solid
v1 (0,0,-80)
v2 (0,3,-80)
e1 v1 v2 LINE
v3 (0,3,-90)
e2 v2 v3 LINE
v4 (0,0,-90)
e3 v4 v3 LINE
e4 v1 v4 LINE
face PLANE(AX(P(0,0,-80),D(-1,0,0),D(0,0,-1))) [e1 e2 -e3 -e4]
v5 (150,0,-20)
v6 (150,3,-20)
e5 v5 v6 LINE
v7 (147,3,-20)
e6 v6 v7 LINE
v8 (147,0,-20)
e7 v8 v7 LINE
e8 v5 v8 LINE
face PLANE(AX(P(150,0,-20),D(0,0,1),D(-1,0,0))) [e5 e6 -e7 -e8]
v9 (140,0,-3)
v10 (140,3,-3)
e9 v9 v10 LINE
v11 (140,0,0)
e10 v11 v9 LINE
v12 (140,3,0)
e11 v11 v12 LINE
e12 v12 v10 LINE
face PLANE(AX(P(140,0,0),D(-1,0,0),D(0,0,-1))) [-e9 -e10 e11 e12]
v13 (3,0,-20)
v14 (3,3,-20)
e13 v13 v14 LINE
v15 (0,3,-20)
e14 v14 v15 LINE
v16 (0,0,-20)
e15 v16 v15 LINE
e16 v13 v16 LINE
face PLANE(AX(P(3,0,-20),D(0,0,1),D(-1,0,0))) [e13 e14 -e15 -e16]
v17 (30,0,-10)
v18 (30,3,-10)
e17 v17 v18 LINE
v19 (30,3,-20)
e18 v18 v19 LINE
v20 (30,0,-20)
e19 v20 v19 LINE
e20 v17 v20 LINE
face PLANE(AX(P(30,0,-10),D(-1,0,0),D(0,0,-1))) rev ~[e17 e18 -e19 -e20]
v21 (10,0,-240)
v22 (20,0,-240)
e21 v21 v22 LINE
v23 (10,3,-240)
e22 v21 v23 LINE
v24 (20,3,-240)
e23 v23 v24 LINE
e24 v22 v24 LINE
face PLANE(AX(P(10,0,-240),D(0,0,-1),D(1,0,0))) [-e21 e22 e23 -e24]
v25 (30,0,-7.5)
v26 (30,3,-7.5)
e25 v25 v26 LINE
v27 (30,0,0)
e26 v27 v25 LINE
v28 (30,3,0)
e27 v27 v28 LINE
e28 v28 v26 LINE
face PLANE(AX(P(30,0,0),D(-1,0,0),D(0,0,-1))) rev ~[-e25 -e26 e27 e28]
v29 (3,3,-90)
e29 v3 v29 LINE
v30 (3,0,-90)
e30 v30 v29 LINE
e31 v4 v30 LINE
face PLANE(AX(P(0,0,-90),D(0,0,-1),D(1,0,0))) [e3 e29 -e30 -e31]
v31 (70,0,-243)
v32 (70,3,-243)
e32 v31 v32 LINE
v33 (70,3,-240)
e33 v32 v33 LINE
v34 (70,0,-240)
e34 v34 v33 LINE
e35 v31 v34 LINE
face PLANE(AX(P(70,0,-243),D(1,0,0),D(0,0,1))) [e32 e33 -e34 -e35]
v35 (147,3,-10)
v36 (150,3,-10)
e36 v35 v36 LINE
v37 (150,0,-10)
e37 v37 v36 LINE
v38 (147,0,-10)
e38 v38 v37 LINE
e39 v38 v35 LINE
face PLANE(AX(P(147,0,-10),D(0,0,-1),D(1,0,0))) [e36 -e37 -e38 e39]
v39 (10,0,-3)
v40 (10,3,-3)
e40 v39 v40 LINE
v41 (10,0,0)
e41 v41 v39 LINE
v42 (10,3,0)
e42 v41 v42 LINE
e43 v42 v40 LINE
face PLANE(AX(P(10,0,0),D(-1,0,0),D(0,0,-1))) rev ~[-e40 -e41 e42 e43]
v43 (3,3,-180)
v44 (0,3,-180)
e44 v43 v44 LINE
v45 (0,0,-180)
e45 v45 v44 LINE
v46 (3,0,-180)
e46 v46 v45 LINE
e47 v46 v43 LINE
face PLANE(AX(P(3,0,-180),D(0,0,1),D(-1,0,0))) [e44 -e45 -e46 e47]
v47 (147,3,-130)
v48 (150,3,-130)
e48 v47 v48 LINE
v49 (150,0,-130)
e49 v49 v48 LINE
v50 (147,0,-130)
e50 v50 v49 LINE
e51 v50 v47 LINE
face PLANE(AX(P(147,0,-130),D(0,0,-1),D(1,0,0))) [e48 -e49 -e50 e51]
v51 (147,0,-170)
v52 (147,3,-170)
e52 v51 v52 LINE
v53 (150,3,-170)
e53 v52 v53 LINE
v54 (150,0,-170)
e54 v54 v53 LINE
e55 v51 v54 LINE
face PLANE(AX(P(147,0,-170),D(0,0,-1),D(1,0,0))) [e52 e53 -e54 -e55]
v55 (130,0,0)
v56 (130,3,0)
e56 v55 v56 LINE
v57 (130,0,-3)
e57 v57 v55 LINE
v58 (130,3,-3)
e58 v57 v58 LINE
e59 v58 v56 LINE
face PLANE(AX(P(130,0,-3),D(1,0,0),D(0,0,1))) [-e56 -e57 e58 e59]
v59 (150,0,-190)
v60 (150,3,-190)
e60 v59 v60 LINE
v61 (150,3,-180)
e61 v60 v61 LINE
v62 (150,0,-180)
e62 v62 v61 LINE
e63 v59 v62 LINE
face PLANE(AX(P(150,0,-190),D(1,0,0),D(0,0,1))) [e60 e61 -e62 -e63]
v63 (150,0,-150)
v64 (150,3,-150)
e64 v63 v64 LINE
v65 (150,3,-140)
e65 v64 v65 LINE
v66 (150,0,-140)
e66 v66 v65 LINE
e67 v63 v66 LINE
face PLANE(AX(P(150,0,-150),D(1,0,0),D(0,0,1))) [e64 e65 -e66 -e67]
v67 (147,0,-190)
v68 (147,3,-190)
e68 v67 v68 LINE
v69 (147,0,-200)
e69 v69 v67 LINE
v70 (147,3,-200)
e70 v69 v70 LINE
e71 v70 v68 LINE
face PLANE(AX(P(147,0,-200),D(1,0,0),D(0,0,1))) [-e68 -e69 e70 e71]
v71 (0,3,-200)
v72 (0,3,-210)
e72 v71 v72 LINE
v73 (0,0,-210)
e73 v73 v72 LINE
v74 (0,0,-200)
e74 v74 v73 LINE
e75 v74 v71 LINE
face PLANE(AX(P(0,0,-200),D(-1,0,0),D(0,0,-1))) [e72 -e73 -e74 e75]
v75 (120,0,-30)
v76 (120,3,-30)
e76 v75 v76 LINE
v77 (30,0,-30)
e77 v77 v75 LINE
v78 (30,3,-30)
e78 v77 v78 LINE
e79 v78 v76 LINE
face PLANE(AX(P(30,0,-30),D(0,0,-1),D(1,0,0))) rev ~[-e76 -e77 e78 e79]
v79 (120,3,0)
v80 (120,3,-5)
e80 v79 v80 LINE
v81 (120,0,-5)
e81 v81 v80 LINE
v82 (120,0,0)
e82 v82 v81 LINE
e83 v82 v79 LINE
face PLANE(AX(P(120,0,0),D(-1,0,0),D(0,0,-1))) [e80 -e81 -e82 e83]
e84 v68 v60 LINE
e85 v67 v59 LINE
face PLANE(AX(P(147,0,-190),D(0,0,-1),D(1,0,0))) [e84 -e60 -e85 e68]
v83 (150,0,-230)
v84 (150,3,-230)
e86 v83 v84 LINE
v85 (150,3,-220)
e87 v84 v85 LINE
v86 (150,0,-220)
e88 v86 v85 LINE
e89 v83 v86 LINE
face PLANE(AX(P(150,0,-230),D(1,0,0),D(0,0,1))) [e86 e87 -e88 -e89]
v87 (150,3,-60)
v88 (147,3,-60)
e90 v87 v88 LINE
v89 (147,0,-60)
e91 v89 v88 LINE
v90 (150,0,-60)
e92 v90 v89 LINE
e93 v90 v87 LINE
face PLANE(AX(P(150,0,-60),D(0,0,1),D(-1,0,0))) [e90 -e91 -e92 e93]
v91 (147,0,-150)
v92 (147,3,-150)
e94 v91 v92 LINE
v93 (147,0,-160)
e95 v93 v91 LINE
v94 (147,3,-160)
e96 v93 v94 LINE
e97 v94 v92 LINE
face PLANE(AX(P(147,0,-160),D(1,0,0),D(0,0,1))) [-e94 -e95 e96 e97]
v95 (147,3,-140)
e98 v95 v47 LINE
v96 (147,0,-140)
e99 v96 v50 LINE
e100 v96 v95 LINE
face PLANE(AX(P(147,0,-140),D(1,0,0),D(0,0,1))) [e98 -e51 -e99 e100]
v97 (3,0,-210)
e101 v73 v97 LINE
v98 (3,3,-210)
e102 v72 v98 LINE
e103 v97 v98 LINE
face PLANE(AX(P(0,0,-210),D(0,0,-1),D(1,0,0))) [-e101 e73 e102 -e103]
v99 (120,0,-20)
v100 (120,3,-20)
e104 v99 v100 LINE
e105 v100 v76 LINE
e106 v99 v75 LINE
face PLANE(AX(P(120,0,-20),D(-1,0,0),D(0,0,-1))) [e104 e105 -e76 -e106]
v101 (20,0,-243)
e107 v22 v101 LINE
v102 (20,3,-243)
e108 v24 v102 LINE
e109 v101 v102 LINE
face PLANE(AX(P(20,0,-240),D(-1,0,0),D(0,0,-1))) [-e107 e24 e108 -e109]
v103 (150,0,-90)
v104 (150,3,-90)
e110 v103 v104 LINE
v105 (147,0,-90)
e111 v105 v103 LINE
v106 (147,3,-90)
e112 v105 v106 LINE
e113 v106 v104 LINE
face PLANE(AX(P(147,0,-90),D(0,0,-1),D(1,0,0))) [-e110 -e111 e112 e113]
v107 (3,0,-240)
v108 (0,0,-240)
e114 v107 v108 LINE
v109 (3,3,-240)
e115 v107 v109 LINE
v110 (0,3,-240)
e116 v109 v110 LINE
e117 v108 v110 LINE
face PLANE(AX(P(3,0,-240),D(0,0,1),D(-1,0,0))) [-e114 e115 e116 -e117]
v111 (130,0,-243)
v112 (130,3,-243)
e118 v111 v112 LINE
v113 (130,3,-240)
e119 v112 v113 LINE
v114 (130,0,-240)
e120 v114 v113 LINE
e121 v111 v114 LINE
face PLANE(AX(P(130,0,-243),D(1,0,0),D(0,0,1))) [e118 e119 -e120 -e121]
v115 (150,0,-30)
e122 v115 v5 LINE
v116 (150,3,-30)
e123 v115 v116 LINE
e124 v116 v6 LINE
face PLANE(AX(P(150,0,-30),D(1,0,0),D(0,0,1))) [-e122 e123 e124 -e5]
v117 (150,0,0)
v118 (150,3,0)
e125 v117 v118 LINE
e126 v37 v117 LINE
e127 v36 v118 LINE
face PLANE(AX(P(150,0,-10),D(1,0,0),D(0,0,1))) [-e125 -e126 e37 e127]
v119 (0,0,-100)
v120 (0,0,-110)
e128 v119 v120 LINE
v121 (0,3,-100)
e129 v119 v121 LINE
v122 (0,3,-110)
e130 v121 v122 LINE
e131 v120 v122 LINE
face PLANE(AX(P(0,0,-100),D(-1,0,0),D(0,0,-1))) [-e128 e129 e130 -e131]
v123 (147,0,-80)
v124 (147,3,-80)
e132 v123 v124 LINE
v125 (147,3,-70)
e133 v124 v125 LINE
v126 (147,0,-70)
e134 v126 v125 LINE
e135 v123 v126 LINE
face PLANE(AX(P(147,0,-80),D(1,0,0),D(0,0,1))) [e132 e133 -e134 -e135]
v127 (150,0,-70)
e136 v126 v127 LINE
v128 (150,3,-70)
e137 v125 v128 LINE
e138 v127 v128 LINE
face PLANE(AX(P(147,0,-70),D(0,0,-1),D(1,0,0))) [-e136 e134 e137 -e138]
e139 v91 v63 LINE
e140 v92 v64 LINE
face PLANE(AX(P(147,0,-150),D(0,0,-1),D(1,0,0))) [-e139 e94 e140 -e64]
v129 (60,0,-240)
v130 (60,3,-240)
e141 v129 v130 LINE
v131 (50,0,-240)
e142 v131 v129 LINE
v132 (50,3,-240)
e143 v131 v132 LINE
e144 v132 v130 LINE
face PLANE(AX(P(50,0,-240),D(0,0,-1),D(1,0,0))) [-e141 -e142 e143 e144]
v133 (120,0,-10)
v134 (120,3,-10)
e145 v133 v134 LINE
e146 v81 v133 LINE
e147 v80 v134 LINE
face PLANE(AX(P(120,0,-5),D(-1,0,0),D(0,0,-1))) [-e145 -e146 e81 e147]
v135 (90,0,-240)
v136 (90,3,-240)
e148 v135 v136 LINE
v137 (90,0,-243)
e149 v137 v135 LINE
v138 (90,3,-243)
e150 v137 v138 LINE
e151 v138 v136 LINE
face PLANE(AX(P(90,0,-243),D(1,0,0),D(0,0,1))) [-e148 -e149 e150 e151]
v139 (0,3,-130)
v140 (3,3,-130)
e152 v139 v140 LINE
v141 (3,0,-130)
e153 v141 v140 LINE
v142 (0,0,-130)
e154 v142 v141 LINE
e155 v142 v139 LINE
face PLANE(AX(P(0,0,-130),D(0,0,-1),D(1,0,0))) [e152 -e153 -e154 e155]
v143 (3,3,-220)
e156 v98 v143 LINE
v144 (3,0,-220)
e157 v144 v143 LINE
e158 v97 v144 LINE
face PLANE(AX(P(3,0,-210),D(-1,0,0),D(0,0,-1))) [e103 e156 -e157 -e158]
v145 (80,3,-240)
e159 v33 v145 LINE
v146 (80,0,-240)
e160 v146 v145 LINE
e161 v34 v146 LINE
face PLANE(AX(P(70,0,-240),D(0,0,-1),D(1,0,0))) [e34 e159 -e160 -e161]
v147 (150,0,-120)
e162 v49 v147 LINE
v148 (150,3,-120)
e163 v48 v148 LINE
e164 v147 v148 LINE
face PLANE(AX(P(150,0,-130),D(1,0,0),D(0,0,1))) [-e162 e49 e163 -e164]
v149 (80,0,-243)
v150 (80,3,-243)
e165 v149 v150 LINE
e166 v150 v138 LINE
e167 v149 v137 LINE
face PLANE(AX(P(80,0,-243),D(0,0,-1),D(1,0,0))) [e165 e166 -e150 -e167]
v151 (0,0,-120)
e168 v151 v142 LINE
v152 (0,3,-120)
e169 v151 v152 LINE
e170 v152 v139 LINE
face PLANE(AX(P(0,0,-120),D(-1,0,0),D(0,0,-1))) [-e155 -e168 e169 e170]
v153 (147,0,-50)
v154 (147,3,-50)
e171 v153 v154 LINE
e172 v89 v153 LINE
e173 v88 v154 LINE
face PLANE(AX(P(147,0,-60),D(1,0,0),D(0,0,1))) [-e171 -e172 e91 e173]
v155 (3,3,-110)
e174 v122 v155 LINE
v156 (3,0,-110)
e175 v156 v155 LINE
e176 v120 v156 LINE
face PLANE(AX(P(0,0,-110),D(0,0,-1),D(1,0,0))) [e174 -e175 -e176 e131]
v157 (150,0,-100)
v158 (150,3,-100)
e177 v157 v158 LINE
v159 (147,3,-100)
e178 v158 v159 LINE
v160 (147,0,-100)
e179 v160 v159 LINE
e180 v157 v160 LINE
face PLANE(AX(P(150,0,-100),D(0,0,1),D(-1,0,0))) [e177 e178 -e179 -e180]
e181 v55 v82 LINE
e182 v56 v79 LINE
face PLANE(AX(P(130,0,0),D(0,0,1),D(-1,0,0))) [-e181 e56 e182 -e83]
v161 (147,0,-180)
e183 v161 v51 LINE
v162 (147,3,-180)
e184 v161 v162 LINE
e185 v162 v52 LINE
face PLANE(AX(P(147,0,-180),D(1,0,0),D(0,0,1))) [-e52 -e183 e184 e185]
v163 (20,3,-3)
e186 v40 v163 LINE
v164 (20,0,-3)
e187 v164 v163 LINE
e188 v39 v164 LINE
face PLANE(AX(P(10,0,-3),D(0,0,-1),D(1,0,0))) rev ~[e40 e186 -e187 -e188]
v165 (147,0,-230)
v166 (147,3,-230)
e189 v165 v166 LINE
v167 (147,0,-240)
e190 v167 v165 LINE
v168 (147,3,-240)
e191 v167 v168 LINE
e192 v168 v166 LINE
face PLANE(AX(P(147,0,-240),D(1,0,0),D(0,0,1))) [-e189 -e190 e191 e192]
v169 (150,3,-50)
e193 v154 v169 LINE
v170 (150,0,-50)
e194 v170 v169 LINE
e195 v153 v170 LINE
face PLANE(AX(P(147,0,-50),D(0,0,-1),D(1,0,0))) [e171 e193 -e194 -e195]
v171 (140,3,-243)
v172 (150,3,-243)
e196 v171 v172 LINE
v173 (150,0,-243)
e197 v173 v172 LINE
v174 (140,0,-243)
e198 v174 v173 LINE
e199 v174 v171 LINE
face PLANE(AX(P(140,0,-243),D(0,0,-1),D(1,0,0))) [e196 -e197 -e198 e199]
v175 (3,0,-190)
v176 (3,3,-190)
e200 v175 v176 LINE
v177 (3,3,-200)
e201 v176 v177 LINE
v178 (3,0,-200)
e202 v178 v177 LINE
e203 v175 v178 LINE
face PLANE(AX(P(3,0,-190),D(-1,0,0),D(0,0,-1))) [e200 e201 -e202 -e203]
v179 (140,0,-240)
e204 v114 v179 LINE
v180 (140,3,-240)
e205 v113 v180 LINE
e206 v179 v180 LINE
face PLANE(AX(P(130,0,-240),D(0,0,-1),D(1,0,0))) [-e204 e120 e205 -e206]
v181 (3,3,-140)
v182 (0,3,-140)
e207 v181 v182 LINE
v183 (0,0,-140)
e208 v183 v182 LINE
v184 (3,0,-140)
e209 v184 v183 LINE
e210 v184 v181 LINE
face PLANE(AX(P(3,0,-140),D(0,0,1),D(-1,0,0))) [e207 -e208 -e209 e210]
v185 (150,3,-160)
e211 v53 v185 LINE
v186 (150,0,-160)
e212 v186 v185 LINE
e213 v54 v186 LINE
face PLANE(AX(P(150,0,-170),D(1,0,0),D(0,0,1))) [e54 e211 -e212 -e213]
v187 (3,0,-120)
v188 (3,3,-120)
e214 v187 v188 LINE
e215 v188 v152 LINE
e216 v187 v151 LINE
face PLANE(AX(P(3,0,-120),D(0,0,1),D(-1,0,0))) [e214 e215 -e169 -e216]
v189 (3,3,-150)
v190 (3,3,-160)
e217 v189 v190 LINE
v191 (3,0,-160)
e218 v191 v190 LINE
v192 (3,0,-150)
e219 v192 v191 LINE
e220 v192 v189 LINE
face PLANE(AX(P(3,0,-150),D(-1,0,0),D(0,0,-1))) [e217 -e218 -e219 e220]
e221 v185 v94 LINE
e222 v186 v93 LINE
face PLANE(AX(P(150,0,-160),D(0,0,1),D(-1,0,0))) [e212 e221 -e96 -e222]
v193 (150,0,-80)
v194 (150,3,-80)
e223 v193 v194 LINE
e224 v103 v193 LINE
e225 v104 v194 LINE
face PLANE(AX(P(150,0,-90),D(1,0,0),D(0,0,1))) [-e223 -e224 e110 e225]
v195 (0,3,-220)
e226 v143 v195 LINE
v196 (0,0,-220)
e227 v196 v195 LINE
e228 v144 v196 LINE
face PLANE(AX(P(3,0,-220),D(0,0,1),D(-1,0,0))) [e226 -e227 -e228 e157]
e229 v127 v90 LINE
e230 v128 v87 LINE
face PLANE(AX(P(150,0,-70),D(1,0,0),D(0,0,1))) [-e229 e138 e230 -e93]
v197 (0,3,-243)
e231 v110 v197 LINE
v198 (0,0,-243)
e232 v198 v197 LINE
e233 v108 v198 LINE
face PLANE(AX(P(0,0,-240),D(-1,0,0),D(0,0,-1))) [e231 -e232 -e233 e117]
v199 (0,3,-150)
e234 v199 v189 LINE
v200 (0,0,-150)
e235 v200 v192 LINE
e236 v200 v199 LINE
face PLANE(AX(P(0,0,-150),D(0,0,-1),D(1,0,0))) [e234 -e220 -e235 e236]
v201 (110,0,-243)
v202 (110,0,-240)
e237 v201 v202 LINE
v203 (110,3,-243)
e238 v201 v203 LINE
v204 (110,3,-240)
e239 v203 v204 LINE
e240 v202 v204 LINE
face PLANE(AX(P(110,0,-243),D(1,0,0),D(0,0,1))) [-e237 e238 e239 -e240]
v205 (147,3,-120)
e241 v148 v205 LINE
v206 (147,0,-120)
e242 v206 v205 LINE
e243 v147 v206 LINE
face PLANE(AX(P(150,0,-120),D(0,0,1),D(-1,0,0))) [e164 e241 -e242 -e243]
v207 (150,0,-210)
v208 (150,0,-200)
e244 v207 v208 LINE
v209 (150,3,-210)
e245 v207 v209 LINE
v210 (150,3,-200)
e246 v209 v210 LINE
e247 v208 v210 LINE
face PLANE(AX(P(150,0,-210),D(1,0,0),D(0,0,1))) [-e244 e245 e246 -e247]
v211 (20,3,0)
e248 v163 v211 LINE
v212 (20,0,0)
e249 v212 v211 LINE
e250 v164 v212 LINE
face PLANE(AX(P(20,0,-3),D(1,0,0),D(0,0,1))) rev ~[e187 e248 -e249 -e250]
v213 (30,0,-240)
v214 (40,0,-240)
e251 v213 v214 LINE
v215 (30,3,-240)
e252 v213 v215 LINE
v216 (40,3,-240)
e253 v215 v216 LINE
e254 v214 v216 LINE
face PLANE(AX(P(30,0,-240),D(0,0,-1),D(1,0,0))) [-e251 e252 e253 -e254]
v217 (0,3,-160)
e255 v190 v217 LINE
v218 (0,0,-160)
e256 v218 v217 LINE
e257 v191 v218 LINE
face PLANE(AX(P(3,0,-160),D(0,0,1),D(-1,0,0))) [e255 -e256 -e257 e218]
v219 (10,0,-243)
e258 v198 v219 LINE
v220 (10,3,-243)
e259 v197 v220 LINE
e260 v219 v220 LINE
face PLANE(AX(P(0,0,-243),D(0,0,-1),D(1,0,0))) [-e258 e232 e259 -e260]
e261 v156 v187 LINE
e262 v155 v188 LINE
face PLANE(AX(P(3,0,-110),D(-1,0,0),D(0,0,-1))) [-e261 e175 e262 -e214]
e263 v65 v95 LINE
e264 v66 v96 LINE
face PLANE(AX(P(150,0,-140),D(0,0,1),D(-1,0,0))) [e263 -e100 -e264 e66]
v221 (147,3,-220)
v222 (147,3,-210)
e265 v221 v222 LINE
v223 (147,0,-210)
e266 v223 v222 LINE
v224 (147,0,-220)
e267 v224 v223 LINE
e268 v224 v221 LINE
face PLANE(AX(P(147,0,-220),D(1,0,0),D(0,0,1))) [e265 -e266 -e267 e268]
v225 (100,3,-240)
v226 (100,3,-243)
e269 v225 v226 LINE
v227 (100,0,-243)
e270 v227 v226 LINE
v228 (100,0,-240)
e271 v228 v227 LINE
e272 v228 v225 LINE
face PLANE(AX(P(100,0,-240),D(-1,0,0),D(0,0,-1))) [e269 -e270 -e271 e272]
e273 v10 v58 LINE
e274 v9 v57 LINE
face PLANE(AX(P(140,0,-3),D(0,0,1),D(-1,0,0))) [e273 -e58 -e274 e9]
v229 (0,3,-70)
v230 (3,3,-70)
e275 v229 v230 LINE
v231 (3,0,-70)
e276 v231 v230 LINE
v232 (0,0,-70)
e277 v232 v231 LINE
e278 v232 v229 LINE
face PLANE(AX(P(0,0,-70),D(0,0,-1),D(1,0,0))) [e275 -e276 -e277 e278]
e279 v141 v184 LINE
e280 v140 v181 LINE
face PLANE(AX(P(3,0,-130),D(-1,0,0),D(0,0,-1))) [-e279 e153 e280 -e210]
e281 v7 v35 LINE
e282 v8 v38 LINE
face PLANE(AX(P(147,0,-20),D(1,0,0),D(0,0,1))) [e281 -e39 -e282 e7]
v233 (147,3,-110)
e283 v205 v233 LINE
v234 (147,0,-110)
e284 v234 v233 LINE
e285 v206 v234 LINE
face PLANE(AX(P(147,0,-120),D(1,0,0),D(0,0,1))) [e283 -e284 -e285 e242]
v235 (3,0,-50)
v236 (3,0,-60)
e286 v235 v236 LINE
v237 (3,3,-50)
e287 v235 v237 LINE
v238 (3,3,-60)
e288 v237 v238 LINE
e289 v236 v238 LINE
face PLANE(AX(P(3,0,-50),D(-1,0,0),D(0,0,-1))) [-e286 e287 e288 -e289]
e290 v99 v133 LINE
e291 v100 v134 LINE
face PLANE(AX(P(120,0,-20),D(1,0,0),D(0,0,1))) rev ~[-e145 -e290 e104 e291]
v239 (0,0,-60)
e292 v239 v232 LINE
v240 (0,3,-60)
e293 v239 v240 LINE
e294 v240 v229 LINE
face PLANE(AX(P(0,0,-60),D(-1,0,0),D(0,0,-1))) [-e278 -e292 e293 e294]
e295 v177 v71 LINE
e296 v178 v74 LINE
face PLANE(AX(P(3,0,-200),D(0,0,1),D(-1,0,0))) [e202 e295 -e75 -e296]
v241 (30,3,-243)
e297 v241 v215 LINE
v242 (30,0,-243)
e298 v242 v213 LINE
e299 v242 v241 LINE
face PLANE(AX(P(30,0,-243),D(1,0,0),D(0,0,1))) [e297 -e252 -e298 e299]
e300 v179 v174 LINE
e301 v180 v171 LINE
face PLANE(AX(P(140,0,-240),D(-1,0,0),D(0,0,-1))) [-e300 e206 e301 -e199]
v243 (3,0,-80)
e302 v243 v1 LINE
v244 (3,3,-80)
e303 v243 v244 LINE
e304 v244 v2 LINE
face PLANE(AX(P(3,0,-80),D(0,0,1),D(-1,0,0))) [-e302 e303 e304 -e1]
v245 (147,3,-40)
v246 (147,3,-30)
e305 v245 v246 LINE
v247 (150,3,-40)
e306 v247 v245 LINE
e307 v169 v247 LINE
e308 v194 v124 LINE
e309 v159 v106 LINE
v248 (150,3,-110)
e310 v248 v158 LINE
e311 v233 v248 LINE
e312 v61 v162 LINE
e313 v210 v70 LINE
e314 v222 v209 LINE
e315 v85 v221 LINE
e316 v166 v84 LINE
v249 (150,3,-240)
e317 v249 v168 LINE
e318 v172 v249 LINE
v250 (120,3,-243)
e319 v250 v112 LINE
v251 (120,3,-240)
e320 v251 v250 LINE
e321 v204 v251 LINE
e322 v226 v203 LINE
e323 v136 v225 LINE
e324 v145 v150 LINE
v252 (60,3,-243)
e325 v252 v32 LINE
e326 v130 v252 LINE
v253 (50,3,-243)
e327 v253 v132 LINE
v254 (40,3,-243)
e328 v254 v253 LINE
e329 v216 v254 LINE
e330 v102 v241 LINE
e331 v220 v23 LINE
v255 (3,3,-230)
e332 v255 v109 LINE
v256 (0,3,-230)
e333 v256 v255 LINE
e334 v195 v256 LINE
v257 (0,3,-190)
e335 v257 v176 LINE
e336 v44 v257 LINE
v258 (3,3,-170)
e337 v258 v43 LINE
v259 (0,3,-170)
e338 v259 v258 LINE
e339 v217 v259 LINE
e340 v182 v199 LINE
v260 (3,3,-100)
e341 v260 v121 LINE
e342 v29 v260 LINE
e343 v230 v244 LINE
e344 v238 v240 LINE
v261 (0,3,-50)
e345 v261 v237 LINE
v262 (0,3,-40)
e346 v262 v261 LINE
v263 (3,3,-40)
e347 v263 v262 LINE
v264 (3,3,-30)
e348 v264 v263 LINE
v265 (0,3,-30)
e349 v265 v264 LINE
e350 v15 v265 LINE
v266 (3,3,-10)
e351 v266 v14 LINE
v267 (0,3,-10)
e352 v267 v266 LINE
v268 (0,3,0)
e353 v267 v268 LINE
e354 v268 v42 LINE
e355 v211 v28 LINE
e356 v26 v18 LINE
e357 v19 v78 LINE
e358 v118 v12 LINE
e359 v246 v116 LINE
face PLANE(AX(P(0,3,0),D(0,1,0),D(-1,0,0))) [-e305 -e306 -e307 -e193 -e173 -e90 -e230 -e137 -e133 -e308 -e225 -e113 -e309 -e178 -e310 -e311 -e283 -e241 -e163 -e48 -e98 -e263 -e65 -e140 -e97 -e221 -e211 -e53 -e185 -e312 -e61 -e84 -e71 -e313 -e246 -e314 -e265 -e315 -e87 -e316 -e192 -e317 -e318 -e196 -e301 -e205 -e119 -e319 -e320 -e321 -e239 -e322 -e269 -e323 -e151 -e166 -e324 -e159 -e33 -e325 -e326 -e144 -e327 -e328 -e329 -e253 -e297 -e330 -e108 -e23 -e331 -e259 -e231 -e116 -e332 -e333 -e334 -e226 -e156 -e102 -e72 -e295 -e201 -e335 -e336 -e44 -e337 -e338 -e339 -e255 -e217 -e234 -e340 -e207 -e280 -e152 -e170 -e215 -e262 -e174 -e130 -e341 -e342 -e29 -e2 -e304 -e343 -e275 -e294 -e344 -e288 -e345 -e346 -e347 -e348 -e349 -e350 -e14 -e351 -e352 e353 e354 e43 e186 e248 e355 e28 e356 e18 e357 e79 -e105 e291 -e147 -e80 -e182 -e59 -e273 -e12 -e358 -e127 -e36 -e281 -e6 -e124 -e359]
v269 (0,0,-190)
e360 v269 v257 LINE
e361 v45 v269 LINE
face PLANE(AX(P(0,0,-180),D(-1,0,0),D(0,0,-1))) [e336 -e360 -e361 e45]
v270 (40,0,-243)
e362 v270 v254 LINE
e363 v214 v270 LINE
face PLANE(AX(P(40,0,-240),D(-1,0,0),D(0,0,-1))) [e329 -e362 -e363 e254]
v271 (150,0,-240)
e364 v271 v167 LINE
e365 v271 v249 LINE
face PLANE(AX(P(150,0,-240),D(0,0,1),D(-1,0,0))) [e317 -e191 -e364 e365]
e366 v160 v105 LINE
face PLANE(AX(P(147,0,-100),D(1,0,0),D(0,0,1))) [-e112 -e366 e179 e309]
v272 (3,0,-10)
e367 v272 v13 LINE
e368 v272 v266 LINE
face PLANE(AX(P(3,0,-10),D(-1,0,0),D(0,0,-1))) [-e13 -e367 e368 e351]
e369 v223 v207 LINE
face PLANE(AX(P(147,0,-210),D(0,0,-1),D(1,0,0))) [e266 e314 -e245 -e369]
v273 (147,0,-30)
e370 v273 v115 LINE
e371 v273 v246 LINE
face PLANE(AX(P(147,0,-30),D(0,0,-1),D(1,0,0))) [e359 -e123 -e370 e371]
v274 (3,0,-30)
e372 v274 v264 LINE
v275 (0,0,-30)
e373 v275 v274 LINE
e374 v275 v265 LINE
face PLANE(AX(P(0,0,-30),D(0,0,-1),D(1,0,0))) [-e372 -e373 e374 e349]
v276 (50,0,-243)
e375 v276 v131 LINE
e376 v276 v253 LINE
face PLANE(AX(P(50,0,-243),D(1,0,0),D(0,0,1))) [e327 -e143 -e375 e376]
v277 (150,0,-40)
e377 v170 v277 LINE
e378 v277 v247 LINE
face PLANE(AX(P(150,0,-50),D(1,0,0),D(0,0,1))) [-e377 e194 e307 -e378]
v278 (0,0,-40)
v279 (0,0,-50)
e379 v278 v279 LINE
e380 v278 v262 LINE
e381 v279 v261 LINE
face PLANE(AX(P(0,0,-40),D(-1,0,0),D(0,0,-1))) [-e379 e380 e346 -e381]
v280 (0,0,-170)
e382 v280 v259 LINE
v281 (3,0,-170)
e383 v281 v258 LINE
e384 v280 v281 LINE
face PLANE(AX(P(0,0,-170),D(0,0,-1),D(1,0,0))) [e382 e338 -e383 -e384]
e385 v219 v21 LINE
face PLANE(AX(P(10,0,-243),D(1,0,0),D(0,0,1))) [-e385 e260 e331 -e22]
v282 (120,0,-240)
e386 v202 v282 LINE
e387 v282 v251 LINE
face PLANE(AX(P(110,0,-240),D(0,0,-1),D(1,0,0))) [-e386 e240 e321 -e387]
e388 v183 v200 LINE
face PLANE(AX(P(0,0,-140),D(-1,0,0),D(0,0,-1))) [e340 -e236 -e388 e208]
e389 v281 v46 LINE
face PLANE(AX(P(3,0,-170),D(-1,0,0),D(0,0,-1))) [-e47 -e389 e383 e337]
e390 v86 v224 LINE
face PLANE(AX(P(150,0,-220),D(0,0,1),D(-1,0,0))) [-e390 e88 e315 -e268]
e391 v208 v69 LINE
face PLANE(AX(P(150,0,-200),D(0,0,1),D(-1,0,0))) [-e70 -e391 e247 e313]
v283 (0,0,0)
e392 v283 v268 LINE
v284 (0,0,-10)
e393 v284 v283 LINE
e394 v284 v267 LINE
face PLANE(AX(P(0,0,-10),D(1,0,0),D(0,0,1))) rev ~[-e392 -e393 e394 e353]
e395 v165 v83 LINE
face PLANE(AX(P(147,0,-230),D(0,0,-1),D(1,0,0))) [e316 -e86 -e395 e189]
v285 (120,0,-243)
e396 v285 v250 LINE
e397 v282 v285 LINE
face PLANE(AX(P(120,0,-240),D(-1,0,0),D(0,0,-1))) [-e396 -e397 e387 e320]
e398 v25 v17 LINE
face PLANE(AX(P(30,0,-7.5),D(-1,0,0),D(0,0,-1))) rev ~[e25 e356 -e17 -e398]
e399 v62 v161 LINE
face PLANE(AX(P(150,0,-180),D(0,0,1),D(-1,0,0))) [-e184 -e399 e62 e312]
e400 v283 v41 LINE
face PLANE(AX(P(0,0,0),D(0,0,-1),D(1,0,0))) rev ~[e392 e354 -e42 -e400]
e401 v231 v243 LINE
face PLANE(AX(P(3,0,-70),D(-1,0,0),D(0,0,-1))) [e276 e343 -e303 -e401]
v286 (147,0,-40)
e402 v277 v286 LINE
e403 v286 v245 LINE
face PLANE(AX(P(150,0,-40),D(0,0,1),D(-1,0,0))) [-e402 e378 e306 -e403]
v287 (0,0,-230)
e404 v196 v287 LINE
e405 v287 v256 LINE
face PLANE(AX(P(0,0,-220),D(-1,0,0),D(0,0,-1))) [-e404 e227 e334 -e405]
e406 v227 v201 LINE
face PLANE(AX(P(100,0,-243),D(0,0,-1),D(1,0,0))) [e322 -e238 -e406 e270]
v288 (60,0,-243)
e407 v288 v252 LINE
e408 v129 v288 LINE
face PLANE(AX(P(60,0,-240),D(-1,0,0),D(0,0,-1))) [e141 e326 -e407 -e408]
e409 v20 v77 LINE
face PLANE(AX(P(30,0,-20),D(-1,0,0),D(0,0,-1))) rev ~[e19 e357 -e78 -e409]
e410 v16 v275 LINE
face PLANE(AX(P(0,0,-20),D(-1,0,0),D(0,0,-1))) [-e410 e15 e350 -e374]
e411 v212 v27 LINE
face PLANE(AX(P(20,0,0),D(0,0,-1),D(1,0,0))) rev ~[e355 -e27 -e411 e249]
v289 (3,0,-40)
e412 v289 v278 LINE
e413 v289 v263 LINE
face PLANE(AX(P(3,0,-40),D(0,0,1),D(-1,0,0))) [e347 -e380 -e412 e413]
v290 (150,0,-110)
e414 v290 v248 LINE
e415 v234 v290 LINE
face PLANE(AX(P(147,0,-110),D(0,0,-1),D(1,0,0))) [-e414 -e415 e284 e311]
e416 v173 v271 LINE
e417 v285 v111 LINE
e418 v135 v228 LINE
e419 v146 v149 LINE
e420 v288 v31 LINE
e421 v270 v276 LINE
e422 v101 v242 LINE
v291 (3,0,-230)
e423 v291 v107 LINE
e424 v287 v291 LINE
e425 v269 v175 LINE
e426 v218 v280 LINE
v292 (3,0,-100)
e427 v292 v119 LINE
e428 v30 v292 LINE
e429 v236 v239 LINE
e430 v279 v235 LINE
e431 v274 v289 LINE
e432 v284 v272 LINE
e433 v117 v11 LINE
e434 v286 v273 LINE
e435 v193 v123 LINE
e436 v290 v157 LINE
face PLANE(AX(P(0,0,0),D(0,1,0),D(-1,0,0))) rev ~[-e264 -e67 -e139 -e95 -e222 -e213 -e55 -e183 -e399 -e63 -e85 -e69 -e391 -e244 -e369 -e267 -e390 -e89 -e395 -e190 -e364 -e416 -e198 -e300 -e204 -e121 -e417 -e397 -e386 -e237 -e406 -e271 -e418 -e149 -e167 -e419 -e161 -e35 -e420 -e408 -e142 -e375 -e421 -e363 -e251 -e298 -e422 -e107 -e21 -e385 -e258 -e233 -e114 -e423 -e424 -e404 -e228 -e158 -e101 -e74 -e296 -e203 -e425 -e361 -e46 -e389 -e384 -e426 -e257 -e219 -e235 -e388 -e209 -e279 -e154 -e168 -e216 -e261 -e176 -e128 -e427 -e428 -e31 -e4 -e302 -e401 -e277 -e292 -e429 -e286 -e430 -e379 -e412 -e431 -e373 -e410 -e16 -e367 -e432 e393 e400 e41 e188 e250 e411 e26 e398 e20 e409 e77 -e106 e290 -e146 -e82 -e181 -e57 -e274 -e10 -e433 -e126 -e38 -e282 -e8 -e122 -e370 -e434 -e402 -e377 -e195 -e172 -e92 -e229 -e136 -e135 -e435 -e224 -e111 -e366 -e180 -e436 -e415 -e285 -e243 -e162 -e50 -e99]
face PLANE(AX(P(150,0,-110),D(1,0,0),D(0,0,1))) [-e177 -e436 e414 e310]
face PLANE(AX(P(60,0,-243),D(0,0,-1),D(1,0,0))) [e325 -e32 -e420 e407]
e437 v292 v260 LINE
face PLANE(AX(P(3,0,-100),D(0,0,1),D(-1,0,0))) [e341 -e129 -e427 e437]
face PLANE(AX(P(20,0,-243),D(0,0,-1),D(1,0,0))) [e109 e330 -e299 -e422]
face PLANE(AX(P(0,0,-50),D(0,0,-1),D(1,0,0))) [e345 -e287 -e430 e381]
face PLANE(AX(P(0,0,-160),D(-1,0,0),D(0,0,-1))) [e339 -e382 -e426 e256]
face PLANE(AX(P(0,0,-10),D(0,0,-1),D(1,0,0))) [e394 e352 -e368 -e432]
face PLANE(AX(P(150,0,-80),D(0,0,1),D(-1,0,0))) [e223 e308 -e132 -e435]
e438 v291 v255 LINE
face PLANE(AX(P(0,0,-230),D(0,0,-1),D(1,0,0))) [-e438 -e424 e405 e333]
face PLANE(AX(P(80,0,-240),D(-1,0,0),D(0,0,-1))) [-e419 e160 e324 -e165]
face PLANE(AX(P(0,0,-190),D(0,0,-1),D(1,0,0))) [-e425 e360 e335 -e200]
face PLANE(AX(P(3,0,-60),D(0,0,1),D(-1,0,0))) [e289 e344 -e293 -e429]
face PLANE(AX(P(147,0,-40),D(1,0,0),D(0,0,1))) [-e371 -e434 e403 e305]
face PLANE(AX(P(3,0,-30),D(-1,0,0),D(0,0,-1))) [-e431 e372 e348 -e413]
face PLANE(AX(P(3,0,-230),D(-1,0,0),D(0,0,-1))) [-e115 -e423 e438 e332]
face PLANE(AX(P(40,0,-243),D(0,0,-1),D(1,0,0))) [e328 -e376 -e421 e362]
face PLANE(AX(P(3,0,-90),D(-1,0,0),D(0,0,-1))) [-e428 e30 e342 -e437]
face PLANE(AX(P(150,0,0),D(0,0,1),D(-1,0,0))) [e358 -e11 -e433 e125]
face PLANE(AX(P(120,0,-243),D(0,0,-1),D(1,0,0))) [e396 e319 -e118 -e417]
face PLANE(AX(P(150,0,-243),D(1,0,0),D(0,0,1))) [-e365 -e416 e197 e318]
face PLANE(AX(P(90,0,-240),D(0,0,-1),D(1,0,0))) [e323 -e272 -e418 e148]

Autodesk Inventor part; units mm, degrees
ref_plane "YZ Plane" through (0, 0, 0) normal (1, 0, 0) x (0, 1, 0)
ref_plane "XZ Plane" through (0, 0, 0) normal (0, 1, 0) x (-1, 0, 0)
ref_plane "XY Plane" through (0, 0, 0) normal (0, 0, 1) x (1, 0, 0)
sketch "Sketch1" plane through (0, 0, 0) normal (0, 1, 0) x (-1, 0, 0)
  line L0 (0, -10) -> (-3, -10)
  line L1 (-3, -10) -> (-3, -20)
  line L2 (-3, -20) -> (0, -20)
  line L3 (0, -30) -> (-3, -30)
  line L4 (-3, -30) -> (-3, -40)
  line L5 (-3, -40) -> (0, -40)
  line L6 (0, -40) -> (0, -50)
  line L7 (0, -50) -> (-3, -50)
  line L8 (-3, -50) -> (-3, -60)
  line L9 (-3, -60) -> (0, -60)
  line L10 (0, -60) -> (0, -70)
  line L11 (0, -70) -> (-3, -70)
  line L12 (-3, -70) -> (-3, -80)
  line L13 (-3, -80) -> (0, -80)
  line L14 (0, -80) -> (0, -90)
  line L15 (0, -90) -> (-3, -90)
  line L16 (-3, -90) -> (-3, -100)
  line L17 (-3, -100) -> (0, -100)
  line L18 (0, -100) -> (0, -110)
  line L19 (0, -110) -> (-3, -110)
  line L20 (-3, -110) -> (-3, -120)
  line L21 (-3, -120) -> (0, -120)
  line L22 (0, -120) -> (0, -130)
  line L23 (0, -130) -> (-3, -130)
  line L24 (-3, -130) -> (-3, -140)
  line L25 (-3, -140) -> (0, -140)
  line L26 (0, -140) -> (0, -150)
  line L27 (0, -150) -> (-3, -150)
  line L28 (-3, -150) -> (-3, -160)
  line L29 (-3, -160) -> (0, -160)
  line L30 (0, -160) -> (0, -170)
  line L31 (0, -170) -> (-3, -170)
  line L32 (-3, -170) -> (-3, -180)
  line L33 (-3, -180) -> (0, -180)
  line L34 (0, -180) -> (0, -190)
  line L35 (0, -190) -> (-3, -190)
  line L36 (-3, -190) -> (-3, -200)
  line L37 (-3, -200) -> (0, -200)
  line L38 (0, -200) -> (0, -210)
  line L39 (0, -210) -> (-3, -210)
  line L40 (-3, -210) -> (-3, -220)
  line L41 (-3, -220) -> (0, -220)
  line L42 (0, -220) -> (0, -230)
  line L43 (0, -230) -> (-3, -230)
  line L44 (-3, -230) -> (-3, -240)
  line L45 (-3, -240) -> (0, -240)
  line L46 (0, -240) -> (0, -243)
  line L47 (0, -243) -> (-10, -243)
  line L48 (-10, -243) -> (-10, -240)
  line L49 (-10, -240) -> (-20, -240)
  line L50 (-20, -240) -> (-20, -243)
  line L51 (-20, -243) -> (-30, -243)
  line L52 (-30, -243) -> (-30, -240)
  line L53 (-30, -240) -> (-40, -240)
  line L54 (-40, -240) -> (-40, -243)
  line L55 (-40, -243) -> (-50, -243)
  line L56 (-50, -243) -> (-50, -240)
  line L57 (-50, -240) -> (-60, -240)
  line L58 (-60, -240) -> (-60, -243)
  line L59 (-60, -243) -> (-70, -243)
  line L60 (-70, -243) -> (-70, -240)
  line L61 (-70, -240) -> (-80, -240)
  line L62 (-80, -240) -> (-80, -243)
  line L63 (-80, -243) -> (-90, -243)
  line L64 (-90, -243) -> (-90, -240)
  line L65 (-90, -240) -> (-100, -240)
  line L66 (-100, -240) -> (-100, -243)
  line L67 (-100, -243) -> (-110, -243)
  line L68 (-110, -243) -> (-110, -240)
  line L69 (-110, -240) -> (-120, -240)
  line L70 (-120, -240) -> (-120, -243)
  line L71 (-120, -243) -> (-130, -243)
  line L72 (-130, -243) -> (-130, -240)
  line L73 (-130, -240) -> (-140, -240)
  line L74 (-140, -240) -> (-140, -243)
  line L75 (-140, -243) -> (-150, -243)
  line L76 (-150, -243) -> (-150, -240)
  line L77 (-150, -240) -> (-147, -240)
  line L78 (-147, -240) -> (-147, -230)
  line L79 (-147, -230) -> (-150, -230)
  line L80 (-150, -230) -> (-150, -220)
  line L81 (-150, -220) -> (-147, -220)
  line L82 (-147, -220) -> (-147, -210)
  line L83 (-147, -210) -> (-150, -210)
  line L84 (-150, -210) -> (-150, -200)
  line L85 (-150, -200) -> (-147, -200)
  line L86 (-147, -200) -> (-147, -190)
  line L87 (-147, -190) -> (-150, -190)
  line L88 (-150, -190) -> (-150, -180)
  line L89 (-150, -180) -> (-147, -180)
  line L90 (-147, -180) -> (-147, -170)
  line L91 (-147, -170) -> (-150, -170)
  line L92 (-150, -170) -> (-150, -160)
  line L93 (-150, -160) -> (-147, -160)
  line L94 (-147, -160) -> (-147, -150)
  line L95 (-147, -150) -> (-150, -150)
  line L96 (-150, -150) -> (-150, -140)
  line L97 (-150, -140) -> (-147, -140)
  line L98 (-147, -140) -> (-147, -130)
  line L99 (-147, -130) -> (-150, -130)
  line L100 (-150, -130) -> (-150, -120)
  line L101 (-150, -120) -> (-147, -120)
  line L102 (-147, -120) -> (-147, -110)
  line L103 (-147, -110) -> (-150, -110)
  line L104 (-150, -110) -> (-150, -100)
  line L105 (-150, -100) -> (-147, -100)
  line L106 (-147, -100) -> (-147, -90)
  line L107 (-147, -90) -> (-150, -90)
  line L108 (-150, -90) -> (-150, -80)
  line L109 (-150, -80) -> (-147, -80)
  line L110 (-147, -80) -> (-147, -70)
  line L111 (-147, -70) -> (-150, -70)
  line L112 (-150, -70) -> (-150, -60)
  line L113 (-150, -60) -> (-147, -60)
  line L114 (-147, -60) -> (-147, -50)
  line L115 (-147, -50) -> (-150, -50)
  line L116 (-150, -50) -> (-150, -40)
  line L117 (-150, -40) -> (-147, -40)
  line L118 (-147, -40) -> (-147, -30)
  line L119 (-147, -30) -> (-150, -30)
  line L120 (-150, -30) -> (-150, -20)
  line L121 (-150, -20) -> (-147, -20)
  line L122 (-147, -20) -> (-147, -10)
  line L123 (-147, -10) -> (-150, -10)
  line L124 (-150, -10) -> (-150, 0)
  line L125 (-150, 0) -> (-140, 0)
  line L126 (-140, 0) -> (-140, -3)
  line L127 (-140, -3) -> (-130, -3)
  line L128 (-130, -3) -> (-130, 0)
  line L129 (-130, 0) -> (-120, 0)
  line L130 (-120, 0) -> (-120, -5)
  line L131 (-120, 0) -> (-120, -5)
  line L132 (-120, -5) -> (-120, -10)
  line L133 (-120, -20) -> (-120, -30)
  line L134 (-10, 0) -> (-10, -3)
  line L135 (-10, -3) -> (-20, -3)
  line L136 (-20, -3) -> (-20, 0)
  line L137 (-20, 0) -> (-30, 0)
  line L138 (-30, 0) -> (-30, -10)
  line L139 (-30, -20) -> (-30, -30)
  line L140 (-30, -30) -> (-120, -30)
  line L141 (0, -20) -> (0, -30)
  line L142 (0, -10) -> (0, 0)
  line L143 (0, 0) -> (-10, 0)
  line L144 (-120, -20) -> (-120, -5)
  line L145 (-30, -7.5) -> (-30, -20)
  dimension "d165" = 230
  dimension "d200" = 90
extrude "Extrusion1" add sketch "Sketch1" along normal blind 3
sketch "Sketch2" plane through (0, 3, 0) normal (0, 1, 0) x (1, 0, 0)
  point P0 (0, 0)
properties part number "base_caja"
